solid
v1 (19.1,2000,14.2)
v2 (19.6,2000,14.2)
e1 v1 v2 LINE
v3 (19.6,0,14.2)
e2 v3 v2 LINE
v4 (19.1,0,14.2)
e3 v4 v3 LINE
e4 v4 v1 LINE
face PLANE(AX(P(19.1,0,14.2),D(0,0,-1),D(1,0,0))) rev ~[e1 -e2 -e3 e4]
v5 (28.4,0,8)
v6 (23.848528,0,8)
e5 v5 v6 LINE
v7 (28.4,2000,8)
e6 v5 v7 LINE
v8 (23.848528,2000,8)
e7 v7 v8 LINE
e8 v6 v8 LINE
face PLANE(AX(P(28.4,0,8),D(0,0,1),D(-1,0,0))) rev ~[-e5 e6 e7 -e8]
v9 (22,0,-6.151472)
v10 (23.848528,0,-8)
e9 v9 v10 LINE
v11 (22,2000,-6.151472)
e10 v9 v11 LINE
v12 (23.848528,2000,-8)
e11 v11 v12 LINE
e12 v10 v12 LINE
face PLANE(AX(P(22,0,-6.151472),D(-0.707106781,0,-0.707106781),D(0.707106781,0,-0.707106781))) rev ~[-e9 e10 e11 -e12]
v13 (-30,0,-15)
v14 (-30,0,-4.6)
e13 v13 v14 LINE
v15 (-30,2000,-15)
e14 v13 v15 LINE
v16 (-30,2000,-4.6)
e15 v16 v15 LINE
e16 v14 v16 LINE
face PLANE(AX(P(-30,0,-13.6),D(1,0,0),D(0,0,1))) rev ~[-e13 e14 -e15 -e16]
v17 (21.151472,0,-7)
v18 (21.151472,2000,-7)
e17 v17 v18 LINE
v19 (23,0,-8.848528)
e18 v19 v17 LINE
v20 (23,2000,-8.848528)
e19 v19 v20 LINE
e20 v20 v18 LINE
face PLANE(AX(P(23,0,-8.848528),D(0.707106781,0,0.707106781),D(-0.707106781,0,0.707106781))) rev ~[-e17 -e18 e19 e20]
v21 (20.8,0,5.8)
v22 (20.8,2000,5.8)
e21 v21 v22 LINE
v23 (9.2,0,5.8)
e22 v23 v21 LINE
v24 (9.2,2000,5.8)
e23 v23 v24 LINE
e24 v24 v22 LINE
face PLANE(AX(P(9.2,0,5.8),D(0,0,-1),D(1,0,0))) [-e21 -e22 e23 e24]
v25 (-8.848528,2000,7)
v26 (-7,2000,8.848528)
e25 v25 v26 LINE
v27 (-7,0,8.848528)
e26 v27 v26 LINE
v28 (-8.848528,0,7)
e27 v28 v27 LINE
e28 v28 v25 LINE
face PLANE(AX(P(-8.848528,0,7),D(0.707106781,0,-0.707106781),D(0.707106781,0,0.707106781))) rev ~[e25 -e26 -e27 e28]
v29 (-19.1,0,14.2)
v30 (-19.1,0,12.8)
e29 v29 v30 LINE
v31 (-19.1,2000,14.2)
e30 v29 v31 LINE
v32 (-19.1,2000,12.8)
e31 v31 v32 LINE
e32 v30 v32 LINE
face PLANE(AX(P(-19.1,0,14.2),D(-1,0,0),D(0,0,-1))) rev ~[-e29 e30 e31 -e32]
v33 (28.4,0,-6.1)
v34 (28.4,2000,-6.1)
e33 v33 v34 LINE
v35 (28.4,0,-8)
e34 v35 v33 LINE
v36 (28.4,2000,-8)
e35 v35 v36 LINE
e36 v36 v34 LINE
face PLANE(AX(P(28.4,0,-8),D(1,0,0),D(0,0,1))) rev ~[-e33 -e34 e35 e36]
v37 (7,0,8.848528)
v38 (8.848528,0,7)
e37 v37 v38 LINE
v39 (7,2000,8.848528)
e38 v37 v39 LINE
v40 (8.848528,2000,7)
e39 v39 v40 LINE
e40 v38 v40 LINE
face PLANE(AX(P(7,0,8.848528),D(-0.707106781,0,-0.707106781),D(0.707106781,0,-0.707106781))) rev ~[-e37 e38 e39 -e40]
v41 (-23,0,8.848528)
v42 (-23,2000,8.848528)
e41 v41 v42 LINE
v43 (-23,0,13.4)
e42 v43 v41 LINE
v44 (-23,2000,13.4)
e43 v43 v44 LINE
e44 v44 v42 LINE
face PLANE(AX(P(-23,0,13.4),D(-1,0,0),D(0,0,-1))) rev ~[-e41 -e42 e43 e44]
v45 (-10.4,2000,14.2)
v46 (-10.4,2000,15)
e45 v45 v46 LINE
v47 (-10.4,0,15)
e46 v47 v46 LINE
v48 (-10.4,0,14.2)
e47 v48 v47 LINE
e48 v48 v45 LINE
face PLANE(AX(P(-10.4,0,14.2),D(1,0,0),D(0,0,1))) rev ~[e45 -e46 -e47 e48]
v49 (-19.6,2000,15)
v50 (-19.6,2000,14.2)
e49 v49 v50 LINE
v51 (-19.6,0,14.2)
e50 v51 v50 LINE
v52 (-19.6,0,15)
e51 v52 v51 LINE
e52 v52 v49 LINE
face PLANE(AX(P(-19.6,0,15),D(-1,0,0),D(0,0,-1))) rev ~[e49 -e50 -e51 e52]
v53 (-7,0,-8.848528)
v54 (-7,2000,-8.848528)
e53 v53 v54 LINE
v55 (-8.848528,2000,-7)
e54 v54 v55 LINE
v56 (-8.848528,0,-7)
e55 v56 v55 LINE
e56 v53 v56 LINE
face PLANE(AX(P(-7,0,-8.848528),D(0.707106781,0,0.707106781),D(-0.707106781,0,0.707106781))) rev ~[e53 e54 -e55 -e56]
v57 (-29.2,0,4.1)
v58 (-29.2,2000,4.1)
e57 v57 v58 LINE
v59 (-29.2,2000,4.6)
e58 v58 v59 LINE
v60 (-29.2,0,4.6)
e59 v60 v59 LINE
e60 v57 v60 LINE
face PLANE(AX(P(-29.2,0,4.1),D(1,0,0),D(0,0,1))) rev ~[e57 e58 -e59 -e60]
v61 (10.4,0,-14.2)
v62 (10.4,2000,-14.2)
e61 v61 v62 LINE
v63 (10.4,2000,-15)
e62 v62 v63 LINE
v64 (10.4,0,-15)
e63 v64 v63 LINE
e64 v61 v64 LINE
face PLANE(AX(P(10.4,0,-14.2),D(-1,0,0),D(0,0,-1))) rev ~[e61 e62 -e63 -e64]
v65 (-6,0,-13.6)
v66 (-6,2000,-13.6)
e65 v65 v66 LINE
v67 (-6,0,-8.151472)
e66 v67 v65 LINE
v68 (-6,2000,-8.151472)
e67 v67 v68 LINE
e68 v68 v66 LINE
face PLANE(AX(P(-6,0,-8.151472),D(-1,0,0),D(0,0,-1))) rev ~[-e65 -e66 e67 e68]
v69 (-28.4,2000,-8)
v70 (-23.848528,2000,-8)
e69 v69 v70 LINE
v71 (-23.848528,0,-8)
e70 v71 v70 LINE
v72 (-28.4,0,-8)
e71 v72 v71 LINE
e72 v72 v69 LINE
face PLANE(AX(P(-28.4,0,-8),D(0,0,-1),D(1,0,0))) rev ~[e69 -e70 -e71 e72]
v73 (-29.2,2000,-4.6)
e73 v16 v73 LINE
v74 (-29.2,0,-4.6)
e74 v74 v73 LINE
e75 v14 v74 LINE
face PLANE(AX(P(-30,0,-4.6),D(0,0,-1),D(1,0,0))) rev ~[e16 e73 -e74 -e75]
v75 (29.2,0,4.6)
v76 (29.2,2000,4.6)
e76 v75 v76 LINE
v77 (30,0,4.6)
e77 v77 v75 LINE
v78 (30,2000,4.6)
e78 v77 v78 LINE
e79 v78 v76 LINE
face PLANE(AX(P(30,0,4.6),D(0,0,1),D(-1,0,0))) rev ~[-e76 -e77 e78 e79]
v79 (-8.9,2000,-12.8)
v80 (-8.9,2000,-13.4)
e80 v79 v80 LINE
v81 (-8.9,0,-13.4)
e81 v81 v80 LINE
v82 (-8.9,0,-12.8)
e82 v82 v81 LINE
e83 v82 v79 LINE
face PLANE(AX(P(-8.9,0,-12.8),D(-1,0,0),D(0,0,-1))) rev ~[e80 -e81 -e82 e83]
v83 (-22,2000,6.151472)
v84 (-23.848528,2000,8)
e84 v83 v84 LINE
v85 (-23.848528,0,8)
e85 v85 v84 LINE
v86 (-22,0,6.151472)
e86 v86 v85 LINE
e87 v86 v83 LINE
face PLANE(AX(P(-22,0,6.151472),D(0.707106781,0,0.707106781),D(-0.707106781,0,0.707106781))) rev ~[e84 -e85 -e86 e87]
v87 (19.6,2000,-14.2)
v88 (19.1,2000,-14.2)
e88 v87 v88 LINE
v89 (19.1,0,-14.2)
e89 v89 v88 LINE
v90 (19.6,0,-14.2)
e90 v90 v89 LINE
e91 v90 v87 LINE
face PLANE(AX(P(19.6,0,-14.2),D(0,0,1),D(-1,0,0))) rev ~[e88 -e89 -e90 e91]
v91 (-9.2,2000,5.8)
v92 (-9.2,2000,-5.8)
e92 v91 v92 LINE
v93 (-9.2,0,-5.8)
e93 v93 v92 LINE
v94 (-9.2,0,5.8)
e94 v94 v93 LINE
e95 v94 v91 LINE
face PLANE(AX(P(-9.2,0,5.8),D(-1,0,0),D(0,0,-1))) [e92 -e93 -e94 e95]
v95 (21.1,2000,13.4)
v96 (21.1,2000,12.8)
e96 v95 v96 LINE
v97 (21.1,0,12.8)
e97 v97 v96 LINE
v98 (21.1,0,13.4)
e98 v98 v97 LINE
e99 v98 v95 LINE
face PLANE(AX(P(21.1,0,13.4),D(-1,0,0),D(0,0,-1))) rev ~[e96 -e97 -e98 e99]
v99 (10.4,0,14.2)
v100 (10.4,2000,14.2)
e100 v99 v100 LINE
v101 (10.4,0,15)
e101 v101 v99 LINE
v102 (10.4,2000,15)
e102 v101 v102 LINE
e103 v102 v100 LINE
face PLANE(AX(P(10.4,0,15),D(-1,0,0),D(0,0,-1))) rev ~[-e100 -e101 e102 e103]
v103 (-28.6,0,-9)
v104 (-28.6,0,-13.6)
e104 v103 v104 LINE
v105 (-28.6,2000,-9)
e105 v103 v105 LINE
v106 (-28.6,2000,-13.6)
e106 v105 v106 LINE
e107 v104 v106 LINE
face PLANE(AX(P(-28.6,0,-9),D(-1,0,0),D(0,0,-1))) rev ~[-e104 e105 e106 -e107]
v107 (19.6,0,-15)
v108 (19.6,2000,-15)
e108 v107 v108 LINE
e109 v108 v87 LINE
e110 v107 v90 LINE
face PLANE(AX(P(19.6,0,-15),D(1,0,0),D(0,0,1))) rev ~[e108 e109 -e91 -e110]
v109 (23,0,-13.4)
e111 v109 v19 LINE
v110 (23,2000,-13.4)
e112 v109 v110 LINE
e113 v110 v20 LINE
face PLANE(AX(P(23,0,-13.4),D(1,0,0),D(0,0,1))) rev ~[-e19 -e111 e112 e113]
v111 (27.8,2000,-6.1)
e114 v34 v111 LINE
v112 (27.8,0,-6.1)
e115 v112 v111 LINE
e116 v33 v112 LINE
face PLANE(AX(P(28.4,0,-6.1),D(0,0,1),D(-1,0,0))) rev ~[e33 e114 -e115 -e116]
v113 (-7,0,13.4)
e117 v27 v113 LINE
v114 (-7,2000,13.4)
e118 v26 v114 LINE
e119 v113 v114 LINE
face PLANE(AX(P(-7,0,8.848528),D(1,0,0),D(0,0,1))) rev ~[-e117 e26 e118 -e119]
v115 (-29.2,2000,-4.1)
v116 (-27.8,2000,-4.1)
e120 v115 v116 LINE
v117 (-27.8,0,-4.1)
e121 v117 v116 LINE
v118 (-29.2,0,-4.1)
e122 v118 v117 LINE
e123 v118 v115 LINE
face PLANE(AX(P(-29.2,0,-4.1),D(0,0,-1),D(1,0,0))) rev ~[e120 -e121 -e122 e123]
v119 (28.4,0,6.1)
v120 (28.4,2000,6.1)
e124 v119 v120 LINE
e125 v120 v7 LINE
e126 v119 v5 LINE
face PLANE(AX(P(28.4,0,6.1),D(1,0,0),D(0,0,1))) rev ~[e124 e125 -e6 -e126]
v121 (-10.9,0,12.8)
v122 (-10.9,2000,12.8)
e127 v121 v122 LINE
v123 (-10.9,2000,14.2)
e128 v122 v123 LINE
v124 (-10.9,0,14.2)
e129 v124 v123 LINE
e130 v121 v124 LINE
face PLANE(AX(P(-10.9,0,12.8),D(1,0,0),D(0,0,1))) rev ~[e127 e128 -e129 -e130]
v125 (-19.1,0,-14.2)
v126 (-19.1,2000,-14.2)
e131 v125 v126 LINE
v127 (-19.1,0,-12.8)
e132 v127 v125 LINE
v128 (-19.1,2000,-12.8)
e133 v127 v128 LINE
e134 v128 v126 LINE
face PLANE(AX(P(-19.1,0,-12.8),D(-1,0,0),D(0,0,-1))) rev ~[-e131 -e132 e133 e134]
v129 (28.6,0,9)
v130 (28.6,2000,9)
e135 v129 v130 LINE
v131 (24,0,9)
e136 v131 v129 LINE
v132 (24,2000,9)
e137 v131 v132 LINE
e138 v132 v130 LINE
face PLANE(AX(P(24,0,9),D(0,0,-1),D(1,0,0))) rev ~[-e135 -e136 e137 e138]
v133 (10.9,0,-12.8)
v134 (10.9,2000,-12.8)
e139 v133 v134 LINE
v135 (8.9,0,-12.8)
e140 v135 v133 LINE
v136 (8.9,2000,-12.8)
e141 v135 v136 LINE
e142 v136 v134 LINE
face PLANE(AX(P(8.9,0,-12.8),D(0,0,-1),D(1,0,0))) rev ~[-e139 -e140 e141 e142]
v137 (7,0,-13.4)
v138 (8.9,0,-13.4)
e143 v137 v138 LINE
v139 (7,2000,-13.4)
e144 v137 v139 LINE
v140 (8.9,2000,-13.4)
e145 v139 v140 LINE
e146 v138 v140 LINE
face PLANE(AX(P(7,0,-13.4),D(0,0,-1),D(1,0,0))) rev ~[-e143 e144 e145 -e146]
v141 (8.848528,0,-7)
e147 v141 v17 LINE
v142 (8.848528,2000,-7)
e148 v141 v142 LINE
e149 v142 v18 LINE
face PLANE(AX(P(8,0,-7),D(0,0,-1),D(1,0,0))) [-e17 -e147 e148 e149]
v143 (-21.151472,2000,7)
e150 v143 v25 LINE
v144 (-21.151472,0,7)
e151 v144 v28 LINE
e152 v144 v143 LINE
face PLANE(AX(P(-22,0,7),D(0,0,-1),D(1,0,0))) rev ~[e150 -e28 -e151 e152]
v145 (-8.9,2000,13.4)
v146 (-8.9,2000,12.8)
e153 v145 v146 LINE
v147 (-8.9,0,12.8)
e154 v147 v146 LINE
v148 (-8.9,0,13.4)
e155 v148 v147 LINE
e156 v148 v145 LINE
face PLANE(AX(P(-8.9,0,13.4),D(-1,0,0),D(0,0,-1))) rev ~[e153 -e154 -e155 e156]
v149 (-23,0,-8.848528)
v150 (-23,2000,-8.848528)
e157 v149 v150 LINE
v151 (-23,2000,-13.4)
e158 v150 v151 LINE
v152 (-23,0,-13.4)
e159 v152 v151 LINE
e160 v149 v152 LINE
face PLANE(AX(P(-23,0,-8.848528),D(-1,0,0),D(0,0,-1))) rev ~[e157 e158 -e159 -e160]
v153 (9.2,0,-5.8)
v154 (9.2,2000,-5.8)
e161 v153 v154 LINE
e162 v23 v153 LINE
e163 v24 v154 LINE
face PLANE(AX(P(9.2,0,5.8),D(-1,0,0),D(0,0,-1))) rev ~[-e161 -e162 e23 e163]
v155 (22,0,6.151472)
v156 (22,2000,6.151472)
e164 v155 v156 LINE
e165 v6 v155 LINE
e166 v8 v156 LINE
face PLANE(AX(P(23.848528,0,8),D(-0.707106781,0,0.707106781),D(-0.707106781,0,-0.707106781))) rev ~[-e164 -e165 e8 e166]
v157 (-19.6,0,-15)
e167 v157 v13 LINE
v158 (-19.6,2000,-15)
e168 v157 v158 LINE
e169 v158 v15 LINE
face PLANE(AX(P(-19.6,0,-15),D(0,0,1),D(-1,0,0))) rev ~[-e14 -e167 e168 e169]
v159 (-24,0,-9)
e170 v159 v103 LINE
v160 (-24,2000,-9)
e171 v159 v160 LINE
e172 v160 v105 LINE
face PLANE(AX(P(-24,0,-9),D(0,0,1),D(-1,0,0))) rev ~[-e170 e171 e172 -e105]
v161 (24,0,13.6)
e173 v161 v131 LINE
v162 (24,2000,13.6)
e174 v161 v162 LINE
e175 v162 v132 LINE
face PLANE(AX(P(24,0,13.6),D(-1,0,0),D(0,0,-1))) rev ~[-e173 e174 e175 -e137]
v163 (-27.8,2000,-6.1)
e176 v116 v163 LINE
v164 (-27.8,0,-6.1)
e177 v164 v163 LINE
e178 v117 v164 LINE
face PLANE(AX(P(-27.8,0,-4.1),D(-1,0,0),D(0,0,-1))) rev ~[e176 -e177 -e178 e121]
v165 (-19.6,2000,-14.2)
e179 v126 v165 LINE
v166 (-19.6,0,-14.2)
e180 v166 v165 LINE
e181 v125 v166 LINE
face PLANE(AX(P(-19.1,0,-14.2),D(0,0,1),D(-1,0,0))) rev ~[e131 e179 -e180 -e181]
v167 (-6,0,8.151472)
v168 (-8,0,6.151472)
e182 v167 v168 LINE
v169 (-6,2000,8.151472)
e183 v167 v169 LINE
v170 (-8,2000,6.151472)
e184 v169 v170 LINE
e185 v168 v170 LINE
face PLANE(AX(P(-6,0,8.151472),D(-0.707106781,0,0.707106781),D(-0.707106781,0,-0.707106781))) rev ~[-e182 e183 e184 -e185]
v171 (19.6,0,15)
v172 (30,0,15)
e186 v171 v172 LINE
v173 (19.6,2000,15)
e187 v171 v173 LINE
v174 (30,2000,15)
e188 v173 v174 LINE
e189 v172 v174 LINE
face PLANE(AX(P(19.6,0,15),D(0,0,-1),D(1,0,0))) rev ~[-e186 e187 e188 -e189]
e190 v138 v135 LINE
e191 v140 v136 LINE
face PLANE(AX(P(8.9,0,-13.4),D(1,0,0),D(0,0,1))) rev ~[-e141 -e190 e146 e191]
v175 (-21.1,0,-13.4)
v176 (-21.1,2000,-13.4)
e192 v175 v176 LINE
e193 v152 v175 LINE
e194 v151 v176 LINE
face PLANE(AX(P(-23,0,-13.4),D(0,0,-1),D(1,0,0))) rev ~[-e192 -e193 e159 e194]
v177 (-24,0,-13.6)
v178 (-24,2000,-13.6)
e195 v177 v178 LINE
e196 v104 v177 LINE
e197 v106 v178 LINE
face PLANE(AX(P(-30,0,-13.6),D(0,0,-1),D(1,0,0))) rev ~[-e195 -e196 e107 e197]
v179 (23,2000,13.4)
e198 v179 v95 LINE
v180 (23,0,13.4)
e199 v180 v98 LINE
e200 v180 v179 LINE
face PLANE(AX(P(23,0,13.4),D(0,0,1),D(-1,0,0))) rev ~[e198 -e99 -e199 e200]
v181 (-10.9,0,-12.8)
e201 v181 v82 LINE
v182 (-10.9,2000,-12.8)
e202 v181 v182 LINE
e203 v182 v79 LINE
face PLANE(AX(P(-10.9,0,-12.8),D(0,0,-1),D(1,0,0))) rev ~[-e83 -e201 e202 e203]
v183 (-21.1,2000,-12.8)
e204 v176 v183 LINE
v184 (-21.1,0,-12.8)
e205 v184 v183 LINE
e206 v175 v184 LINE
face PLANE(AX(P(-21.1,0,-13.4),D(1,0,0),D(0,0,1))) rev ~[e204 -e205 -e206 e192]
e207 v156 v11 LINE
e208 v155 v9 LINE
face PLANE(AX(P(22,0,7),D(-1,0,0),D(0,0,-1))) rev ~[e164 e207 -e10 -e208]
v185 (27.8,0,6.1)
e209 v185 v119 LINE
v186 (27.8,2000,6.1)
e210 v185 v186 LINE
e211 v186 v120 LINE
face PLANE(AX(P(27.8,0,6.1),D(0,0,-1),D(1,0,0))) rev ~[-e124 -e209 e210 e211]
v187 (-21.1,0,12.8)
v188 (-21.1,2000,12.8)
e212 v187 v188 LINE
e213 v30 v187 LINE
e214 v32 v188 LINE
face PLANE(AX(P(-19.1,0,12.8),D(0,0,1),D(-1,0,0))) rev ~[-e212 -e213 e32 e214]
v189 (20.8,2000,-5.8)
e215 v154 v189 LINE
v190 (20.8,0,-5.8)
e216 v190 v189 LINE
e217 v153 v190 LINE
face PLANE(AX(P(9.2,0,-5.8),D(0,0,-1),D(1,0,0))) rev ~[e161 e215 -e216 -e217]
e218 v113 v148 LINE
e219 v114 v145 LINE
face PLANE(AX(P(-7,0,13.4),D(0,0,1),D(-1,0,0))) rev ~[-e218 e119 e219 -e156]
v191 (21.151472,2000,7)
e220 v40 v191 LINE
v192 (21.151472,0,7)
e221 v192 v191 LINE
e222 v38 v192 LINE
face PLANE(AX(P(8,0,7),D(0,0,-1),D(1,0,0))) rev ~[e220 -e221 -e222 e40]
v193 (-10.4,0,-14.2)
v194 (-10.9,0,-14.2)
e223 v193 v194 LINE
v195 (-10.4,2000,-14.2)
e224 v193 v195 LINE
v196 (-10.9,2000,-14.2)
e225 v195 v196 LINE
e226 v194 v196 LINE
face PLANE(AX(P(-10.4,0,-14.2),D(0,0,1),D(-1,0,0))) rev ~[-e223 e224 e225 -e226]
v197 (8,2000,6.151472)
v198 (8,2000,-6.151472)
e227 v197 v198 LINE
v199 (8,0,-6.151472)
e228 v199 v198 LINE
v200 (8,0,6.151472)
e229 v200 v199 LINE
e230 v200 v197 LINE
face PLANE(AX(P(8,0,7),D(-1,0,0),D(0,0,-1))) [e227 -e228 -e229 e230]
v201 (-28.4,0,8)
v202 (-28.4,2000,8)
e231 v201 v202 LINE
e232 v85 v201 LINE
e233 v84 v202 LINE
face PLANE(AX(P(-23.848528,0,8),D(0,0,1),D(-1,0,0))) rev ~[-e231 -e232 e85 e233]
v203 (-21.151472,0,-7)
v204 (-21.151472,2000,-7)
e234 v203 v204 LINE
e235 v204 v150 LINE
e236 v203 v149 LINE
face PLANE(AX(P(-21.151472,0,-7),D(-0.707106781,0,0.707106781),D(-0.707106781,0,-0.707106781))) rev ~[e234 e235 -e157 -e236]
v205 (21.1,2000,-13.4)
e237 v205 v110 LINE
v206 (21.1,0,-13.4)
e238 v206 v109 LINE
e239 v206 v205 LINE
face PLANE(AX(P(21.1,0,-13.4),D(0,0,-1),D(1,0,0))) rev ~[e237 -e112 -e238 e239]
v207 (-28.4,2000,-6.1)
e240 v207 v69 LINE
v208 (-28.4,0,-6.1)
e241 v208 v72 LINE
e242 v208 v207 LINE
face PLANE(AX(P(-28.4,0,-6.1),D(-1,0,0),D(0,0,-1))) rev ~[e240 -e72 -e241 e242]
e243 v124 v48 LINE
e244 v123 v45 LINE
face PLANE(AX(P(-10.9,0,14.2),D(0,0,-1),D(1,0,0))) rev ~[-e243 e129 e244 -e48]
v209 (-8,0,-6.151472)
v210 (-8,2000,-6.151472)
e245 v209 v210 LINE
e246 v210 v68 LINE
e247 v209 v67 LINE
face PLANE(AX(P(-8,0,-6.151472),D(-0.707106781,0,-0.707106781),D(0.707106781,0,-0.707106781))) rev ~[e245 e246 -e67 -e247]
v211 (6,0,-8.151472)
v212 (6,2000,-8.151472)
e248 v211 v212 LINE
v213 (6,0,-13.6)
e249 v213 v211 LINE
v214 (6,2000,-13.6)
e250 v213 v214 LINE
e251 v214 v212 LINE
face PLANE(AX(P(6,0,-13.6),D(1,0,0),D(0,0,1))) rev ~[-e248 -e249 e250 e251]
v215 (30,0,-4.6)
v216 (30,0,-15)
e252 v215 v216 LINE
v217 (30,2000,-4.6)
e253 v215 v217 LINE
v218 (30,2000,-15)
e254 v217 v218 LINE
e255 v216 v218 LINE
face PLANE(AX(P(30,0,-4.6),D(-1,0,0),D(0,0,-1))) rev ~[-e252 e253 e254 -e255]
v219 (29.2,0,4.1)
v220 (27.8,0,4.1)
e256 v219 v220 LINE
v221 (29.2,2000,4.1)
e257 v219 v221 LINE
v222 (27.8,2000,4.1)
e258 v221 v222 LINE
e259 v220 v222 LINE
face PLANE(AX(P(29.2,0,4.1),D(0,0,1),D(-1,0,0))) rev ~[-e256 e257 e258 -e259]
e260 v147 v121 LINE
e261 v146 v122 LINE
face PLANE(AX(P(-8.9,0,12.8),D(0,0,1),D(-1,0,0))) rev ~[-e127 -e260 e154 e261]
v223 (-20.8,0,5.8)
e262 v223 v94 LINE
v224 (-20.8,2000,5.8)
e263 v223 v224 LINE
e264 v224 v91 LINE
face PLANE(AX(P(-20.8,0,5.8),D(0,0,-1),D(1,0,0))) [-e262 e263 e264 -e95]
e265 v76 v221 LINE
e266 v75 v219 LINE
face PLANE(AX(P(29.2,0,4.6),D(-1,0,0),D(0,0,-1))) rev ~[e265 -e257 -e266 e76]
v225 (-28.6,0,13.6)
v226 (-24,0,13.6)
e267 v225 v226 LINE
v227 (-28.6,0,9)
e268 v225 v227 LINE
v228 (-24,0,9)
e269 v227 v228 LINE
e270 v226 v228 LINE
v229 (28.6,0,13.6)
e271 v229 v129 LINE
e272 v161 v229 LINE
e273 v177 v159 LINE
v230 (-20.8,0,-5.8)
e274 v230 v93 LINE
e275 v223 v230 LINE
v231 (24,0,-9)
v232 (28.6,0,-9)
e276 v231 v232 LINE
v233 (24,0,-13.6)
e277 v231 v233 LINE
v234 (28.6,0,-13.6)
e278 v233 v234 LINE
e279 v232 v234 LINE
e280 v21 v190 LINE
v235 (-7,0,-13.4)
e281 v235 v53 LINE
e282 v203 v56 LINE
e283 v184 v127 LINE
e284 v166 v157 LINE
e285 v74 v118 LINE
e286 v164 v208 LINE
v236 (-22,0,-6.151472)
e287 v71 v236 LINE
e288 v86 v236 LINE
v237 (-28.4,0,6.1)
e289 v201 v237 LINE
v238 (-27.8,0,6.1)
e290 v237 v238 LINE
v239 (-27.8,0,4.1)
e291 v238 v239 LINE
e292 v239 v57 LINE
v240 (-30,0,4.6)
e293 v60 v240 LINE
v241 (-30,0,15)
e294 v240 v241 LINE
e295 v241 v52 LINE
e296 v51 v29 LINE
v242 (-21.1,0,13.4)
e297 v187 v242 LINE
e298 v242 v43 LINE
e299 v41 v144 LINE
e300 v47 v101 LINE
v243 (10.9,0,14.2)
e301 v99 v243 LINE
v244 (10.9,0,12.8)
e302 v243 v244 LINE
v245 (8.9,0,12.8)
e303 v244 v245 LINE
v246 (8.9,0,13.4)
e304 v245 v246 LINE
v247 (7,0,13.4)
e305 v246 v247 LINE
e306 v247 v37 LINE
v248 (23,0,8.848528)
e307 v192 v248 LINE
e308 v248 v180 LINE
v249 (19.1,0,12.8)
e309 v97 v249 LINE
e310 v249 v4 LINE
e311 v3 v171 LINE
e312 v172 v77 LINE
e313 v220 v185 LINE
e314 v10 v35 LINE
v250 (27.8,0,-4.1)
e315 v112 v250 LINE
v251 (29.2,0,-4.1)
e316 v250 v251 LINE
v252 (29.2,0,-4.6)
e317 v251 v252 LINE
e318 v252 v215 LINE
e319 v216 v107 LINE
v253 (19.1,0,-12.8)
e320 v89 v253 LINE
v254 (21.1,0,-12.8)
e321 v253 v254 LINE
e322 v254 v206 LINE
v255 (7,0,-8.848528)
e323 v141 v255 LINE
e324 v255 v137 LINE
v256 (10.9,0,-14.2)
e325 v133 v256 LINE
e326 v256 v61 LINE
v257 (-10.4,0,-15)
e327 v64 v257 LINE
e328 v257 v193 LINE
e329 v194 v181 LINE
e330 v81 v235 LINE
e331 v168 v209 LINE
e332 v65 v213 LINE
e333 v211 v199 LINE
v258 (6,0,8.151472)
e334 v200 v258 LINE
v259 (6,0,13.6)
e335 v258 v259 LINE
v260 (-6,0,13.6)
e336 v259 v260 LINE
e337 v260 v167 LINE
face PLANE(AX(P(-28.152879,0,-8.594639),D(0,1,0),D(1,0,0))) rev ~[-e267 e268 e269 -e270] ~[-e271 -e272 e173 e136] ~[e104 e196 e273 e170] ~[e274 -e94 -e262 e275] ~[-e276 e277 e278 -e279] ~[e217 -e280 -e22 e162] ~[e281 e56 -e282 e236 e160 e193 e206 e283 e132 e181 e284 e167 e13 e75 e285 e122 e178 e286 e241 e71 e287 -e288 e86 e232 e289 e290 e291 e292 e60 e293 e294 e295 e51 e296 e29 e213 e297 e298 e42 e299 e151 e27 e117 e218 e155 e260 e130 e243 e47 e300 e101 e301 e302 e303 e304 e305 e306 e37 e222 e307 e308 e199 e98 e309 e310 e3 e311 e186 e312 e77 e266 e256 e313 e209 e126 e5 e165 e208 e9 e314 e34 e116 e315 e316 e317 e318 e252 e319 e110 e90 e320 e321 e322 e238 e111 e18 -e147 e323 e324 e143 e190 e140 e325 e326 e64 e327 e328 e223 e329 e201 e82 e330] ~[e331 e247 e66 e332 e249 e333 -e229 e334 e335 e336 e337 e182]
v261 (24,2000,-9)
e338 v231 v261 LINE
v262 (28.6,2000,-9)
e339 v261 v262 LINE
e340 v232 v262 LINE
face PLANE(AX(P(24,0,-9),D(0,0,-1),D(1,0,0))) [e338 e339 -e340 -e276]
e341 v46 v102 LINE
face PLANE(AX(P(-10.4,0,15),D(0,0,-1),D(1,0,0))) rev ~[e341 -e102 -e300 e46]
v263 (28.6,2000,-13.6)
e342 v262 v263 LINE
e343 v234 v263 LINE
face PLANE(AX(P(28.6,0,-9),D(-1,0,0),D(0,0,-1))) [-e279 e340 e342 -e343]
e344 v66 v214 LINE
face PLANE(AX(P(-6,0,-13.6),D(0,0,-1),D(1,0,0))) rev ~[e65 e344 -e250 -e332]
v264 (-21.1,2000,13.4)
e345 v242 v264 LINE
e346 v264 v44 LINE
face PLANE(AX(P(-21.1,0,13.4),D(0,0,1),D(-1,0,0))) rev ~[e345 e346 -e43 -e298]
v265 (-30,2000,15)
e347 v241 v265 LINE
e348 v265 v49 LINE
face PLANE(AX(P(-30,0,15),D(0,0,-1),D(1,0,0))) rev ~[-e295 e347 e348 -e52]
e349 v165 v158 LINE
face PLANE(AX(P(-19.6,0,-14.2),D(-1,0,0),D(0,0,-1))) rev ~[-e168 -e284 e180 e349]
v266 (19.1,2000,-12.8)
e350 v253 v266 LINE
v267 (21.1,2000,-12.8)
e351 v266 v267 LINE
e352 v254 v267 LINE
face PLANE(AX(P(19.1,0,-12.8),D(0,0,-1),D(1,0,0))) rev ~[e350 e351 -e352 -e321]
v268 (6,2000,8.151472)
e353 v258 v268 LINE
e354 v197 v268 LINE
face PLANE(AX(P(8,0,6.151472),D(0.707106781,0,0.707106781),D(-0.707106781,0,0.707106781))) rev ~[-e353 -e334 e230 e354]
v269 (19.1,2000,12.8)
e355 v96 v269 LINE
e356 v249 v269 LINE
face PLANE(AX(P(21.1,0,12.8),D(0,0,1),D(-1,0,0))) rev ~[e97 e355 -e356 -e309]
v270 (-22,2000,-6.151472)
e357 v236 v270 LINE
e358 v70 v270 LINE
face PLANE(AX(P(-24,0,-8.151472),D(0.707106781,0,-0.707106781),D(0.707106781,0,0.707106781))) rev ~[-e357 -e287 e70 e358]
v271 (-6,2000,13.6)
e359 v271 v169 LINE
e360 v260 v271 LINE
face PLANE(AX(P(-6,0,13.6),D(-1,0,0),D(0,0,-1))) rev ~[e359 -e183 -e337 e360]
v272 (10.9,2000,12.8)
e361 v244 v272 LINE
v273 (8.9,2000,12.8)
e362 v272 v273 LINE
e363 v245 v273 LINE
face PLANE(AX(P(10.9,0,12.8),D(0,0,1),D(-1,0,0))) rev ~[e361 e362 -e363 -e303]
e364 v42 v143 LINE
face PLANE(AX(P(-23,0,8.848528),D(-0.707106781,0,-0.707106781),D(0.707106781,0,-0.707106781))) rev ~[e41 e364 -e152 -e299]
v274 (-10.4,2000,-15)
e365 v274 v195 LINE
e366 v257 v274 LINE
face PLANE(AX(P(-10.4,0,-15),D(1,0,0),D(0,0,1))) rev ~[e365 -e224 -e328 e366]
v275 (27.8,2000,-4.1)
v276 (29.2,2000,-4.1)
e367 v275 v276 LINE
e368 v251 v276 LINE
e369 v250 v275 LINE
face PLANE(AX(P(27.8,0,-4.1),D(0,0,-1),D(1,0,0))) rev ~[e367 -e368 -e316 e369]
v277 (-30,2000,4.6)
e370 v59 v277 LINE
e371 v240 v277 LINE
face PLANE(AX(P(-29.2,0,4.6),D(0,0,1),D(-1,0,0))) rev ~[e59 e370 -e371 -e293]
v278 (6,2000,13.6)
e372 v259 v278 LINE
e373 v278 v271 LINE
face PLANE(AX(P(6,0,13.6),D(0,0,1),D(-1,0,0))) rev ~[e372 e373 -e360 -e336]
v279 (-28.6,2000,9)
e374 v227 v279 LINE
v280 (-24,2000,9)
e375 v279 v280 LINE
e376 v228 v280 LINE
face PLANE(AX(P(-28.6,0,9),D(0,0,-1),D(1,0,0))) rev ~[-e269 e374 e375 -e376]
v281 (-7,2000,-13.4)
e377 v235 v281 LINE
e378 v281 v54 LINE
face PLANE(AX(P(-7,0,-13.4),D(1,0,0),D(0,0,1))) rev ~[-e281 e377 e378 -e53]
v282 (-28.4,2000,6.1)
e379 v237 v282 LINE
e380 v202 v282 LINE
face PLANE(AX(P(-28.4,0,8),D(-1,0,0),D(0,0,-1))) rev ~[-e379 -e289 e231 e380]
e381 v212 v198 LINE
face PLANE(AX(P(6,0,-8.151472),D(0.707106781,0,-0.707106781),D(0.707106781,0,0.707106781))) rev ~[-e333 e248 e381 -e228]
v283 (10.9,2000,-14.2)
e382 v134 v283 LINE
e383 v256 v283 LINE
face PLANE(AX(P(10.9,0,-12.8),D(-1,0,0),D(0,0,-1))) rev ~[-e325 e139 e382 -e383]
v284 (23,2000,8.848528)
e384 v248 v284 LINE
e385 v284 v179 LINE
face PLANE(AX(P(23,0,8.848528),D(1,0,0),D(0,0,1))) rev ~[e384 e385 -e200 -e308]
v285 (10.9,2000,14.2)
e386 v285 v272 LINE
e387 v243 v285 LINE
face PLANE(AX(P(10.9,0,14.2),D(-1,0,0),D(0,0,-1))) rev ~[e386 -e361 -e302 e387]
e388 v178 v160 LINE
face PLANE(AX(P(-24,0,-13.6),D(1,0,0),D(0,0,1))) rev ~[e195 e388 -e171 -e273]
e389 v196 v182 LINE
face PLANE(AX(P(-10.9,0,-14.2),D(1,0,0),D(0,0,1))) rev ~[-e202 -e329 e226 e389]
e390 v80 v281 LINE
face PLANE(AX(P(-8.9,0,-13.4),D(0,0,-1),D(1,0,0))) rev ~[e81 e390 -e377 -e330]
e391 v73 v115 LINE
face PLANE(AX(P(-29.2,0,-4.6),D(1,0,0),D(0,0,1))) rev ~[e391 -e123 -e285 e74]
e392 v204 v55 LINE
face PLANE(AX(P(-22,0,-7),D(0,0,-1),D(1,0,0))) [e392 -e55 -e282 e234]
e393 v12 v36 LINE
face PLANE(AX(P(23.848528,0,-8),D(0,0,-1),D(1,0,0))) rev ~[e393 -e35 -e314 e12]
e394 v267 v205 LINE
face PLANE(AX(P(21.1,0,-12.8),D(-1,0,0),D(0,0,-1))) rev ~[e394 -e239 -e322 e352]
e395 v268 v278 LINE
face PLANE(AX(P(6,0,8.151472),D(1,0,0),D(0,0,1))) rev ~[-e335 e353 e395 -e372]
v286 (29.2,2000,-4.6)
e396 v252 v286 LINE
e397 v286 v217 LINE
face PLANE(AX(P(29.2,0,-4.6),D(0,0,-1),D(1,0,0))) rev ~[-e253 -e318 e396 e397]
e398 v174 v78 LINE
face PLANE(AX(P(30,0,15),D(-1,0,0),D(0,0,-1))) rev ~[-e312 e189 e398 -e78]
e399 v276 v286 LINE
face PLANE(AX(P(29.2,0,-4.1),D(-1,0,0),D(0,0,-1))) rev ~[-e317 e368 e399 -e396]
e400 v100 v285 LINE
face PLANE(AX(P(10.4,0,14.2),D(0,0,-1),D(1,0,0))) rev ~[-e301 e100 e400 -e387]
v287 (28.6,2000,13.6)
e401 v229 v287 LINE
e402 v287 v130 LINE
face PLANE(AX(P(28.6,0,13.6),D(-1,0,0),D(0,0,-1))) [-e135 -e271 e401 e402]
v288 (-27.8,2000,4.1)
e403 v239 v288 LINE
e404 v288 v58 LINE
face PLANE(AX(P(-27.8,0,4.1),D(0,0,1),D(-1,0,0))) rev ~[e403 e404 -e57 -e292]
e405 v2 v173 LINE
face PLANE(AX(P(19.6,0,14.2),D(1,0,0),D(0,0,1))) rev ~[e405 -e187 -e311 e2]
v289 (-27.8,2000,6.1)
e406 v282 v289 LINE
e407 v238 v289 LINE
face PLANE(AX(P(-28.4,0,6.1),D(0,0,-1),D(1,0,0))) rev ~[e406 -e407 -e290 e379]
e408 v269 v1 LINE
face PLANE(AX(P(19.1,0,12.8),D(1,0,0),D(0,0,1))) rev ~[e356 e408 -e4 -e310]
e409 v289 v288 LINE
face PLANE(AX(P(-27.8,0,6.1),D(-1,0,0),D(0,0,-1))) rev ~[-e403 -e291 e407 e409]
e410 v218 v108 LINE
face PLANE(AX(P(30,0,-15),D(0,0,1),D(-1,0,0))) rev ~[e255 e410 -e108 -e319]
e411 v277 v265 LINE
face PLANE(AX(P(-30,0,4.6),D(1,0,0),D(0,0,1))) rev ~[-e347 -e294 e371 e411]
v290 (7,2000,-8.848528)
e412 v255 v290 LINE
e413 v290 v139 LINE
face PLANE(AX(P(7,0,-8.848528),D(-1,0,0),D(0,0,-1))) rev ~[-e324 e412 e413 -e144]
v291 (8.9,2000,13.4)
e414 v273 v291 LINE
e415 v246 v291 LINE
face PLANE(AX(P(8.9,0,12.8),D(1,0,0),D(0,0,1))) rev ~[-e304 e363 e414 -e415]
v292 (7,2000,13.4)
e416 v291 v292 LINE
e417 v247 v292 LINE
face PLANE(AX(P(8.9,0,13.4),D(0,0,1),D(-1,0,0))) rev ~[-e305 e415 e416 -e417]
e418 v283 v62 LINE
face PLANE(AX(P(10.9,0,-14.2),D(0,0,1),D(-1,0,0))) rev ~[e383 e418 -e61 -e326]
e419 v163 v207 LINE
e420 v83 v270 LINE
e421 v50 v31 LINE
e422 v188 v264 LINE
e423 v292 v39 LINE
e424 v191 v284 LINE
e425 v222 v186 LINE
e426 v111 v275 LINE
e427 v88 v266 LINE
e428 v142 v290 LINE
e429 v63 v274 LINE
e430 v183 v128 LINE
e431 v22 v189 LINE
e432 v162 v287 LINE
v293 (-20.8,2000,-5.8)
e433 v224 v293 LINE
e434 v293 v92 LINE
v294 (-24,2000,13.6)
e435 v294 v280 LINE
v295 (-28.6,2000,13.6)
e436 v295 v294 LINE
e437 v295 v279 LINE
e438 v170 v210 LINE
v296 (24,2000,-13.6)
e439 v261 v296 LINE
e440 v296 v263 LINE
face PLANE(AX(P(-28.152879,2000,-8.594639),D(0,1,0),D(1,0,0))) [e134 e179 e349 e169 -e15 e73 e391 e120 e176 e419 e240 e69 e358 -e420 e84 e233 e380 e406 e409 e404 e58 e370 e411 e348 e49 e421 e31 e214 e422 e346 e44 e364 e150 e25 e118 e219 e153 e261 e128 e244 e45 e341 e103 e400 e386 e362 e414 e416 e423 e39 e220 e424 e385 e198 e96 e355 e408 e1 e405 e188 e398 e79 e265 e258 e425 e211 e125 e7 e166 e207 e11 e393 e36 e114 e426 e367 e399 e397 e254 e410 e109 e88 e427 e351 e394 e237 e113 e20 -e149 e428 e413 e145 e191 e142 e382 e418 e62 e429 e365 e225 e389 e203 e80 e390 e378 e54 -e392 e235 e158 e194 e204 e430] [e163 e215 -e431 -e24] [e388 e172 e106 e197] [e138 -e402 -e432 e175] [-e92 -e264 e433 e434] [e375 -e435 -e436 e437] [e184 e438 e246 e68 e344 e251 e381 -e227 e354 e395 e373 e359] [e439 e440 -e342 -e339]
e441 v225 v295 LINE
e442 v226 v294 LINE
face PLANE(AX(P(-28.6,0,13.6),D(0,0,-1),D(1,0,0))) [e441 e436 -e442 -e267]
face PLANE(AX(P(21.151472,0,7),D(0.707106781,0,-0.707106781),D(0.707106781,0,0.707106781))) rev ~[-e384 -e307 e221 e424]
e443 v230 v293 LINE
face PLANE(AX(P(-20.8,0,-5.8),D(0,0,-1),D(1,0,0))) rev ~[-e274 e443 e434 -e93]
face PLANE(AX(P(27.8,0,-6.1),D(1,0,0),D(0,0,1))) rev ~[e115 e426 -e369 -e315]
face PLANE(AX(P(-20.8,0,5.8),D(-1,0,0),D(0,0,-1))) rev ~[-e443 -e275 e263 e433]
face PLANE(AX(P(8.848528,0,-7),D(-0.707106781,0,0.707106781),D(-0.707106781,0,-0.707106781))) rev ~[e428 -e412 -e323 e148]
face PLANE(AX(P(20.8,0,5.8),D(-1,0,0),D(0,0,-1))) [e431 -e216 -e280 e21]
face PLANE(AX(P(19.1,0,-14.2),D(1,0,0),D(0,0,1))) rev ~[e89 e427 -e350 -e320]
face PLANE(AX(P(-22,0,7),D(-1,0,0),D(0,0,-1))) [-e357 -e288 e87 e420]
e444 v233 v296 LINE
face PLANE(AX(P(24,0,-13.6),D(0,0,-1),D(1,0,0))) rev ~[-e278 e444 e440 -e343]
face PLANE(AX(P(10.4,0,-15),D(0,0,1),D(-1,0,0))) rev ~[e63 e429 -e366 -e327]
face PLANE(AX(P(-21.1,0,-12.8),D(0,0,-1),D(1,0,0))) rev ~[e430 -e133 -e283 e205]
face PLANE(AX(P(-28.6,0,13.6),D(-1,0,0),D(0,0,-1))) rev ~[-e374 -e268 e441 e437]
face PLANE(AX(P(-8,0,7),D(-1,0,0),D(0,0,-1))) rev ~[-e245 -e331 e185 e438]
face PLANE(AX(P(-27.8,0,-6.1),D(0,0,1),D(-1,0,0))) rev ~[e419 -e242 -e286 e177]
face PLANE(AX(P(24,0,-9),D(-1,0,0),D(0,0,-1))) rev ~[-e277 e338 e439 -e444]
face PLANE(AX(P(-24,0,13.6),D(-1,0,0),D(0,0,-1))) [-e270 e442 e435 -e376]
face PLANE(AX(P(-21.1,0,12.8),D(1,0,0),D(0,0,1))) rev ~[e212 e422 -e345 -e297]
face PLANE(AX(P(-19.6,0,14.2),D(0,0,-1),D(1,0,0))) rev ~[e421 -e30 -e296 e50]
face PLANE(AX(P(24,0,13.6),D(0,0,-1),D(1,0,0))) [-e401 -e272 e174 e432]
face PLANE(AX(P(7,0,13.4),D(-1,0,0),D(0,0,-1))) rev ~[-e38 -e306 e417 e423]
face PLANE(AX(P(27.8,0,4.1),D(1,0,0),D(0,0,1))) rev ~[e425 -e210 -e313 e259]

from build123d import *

# Parameters (mm, degrees)
SKETCH_1_W      = 14
SKETCH_1_H      = 14
SKETCH_1_W_2    = 11.6
SKETCH_1_H_2    = 11.6
SKETCH_1_W_3    = 4.6
SKETCH_1_H_3    = 4.6
EXTRUDE_2_DEPTH = 2000


with BuildPart() as part:
    # Эскиз1 → Бобышка-Вытянуть2 (new body)
    # profile 1 of 9: a face of its own
    with BuildSketch(Plane(origin=(0, 0, 0), x_dir=(1, 0, 0), z_dir=(0, 1, 0))):
        Polygon((8, -7), (8, -6.151471863), (6, -8.151471863), (6, -13.6), (-6, -13.6), (-6, -8.151471863), (-8, -6.151471863), (-8, -7), (-8.848528137, -7), (-7, -8.848528137), (-7, -13.4), (-8.9, -13.4), (-8.9, -12.8), (-10.9, -12.8), (-10.9, -14.2), (-10.4, -14.2), (-10.4, -15), (10.4, -15), (10.4, -14.2), (10.9, -14.2), (10.9, -12.8), (8.9, -12.8), (8.9, -13.4), (7, -13.4), (7, -8.848528137), (8.848528137, -7), align=None)
    # profile 2 of 9: a face of its own
    with BuildSketch(Plane(origin=(0, 0, 0), x_dir=(1, 0, 0), z_dir=(0, 1, 0))):
        with Locations((-15, 0)):
            Rectangle(SKETCH_1_W, SKETCH_1_H)
        with Locations((-15, 0)):
            Rectangle(SKETCH_1_W_2, SKETCH_1_H_2, mode=Mode.SUBTRACT)
    # profile 3 of 9: a face of its own
    with BuildSketch(Plane(origin=(0, 0, 0), x_dir=(1, 0, 0), z_dir=(0, 1, 0))):
        Polygon((-23, -8.848528137), (-21.151471863, -7), (-22, -7), (-22, -6.151471863), (-23.848528137, -8), (-28.4, -8), (-28.4, -6.1), (-27.8, -6.1), (-27.8, -4.1), (-29.2, -4.1), (-29.2, -4.6), (-30, -4.6), (-30, -15), (-19.6, -15), (-19.6, -14.2), (-19.1, -14.2), (-19.1, -12.8), (-21.1, -12.8), (-21.1, -13.4), (-23, -13.4), align=None)
        with Locations((-26.3, -11.3)):
            Rectangle(SKETCH_1_W_3, SKETCH_1_H_3, mode=Mode.SUBTRACT)
    # profile 4 of 9: a face of its own
    with BuildSketch(Plane(origin=(0, 0, 0), x_dir=(1, 0, 0), z_dir=(0, 1, 0))):
        with Locations((15, 0)):
            Rectangle(SKETCH_1_W, SKETCH_1_H)
        with Locations((15, 0)):
            Rectangle(SKETCH_1_W_2, SKETCH_1_H_2, mode=Mode.SUBTRACT)
    # profile 5 of 9: a face of its own
    with BuildSketch(Plane(origin=(0, 0, 0), x_dir=(1, 0, 0), z_dir=(0, 1, 0))):
        Polygon((23.848528137, -8), (22, -6.151471863), (22, -7), (21.151471863, -7), (23, -8.848528137), (23, -13.4), (21.1, -13.4), (21.1, -12.8), (19.1, -12.8), (19.1, -14.2), (19.6, -14.2), (19.6, -15), (30, -15), (30, -4.6), (29.2, -4.6), (29.2, -4.1), (27.8, -4.1), (27.8, -6.1), (28.4, -6.1), (28.4, -8), align=None)
        with Locations((26.3, -11.3)):
            Rectangle(SKETCH_1_W_3, SKETCH_1_H_3, mode=Mode.SUBTRACT)
    # profile 6 of 9: a face of its own
    with BuildSketch(Plane(origin=(0, 0, 0), x_dir=(1, 0, 0), z_dir=(0, 1, 0))):
        Polygon((21.151471863, 7), (22, 7), (22, 6.151471863), (23.848528137, 8), (28.4, 8), (28.4, 6.1), (27.8, 6.1), (27.8, 4.1), (29.2, 4.1), (29.2, 4.6), (30, 4.6), (30, 15), (19.6, 15), (19.6, 14.2), (19.1, 14.2), (19.1, 12.8), (21.1, 12.8), (21.1, 13.4), (23, 13.4), (23, 8.848528137), align=None)
        with Locations((26.3, 11.3)):
            Rectangle(SKETCH_1_W_3, SKETCH_1_H_3, mode=Mode.SUBTRACT)
    # profile 7 of 9: a face of its own
    with BuildSketch(Plane(origin=(0, 0, 0), x_dir=(1, 0, 0), z_dir=(0, 1, 0))):
        Polygon((8, 7), (8.848528137, 7), (7, 8.848528137), (7, 13.4), (8.9, 13.4), (8.9, 12.8), (10.9, 12.8), (10.9, 14.2), (10.4, 14.2), (10.4, 15), (-10.4, 15), (-10.4, 14.2), (-10.9, 14.2), (-10.9, 12.8), (-8.9, 12.8), (-8.9, 13.4), (-7, 13.4), (-7, 8.848528137), (-8.848528137, 7), (-8, 7), (-8, 6.151471863), (-6, 8.151471863), (-6, 13.6), (6, 13.6), (6, 8.151471863), (8, 6.151471863), align=None)
    # profile 8 of 9: a face of its own
    with BuildSketch(Plane(origin=(0, 0, 0), x_dir=(1, 0, 0), z_dir=(0, 1, 0))):
        Polygon((-22, 7), (-21.151471863, 7), (-23, 8.848528137), (-23, 13.4), (-21.1, 13.4), (-21.1, 12.8), (-19.1, 12.8), (-19.1, 14.2), (-19.6, 14.2), (-19.6, 15), (-30, 15), (-30, 13.6), (-28.6, 13.6), (-24, 13.6), (-24, 9), (-24, 8.151471863), (-23.848528137, 8), (-22, 6.151471863), align=None)
    # profile 9 of 9: a face of its own
    with BuildSketch(Plane(origin=(0, 0, 0), x_dir=(1, 0, 0), z_dir=(0, 1, 0))):
        Polygon((-28.6, 13.6), (-30, 13.6), (-30, 4.6), (-29.2, 4.6), (-29.2, 4.1), (-27.8, 4.1), (-27.8, 6.1), (-28.4, 6.1), (-28.4, 8), (-23.848528137, 8), (-24, 8.151471863), (-24, 9), (-28.6, 9), align=None)
    extrude(amount=EXTRUDE_2_DEPTH)


solid = part.part
